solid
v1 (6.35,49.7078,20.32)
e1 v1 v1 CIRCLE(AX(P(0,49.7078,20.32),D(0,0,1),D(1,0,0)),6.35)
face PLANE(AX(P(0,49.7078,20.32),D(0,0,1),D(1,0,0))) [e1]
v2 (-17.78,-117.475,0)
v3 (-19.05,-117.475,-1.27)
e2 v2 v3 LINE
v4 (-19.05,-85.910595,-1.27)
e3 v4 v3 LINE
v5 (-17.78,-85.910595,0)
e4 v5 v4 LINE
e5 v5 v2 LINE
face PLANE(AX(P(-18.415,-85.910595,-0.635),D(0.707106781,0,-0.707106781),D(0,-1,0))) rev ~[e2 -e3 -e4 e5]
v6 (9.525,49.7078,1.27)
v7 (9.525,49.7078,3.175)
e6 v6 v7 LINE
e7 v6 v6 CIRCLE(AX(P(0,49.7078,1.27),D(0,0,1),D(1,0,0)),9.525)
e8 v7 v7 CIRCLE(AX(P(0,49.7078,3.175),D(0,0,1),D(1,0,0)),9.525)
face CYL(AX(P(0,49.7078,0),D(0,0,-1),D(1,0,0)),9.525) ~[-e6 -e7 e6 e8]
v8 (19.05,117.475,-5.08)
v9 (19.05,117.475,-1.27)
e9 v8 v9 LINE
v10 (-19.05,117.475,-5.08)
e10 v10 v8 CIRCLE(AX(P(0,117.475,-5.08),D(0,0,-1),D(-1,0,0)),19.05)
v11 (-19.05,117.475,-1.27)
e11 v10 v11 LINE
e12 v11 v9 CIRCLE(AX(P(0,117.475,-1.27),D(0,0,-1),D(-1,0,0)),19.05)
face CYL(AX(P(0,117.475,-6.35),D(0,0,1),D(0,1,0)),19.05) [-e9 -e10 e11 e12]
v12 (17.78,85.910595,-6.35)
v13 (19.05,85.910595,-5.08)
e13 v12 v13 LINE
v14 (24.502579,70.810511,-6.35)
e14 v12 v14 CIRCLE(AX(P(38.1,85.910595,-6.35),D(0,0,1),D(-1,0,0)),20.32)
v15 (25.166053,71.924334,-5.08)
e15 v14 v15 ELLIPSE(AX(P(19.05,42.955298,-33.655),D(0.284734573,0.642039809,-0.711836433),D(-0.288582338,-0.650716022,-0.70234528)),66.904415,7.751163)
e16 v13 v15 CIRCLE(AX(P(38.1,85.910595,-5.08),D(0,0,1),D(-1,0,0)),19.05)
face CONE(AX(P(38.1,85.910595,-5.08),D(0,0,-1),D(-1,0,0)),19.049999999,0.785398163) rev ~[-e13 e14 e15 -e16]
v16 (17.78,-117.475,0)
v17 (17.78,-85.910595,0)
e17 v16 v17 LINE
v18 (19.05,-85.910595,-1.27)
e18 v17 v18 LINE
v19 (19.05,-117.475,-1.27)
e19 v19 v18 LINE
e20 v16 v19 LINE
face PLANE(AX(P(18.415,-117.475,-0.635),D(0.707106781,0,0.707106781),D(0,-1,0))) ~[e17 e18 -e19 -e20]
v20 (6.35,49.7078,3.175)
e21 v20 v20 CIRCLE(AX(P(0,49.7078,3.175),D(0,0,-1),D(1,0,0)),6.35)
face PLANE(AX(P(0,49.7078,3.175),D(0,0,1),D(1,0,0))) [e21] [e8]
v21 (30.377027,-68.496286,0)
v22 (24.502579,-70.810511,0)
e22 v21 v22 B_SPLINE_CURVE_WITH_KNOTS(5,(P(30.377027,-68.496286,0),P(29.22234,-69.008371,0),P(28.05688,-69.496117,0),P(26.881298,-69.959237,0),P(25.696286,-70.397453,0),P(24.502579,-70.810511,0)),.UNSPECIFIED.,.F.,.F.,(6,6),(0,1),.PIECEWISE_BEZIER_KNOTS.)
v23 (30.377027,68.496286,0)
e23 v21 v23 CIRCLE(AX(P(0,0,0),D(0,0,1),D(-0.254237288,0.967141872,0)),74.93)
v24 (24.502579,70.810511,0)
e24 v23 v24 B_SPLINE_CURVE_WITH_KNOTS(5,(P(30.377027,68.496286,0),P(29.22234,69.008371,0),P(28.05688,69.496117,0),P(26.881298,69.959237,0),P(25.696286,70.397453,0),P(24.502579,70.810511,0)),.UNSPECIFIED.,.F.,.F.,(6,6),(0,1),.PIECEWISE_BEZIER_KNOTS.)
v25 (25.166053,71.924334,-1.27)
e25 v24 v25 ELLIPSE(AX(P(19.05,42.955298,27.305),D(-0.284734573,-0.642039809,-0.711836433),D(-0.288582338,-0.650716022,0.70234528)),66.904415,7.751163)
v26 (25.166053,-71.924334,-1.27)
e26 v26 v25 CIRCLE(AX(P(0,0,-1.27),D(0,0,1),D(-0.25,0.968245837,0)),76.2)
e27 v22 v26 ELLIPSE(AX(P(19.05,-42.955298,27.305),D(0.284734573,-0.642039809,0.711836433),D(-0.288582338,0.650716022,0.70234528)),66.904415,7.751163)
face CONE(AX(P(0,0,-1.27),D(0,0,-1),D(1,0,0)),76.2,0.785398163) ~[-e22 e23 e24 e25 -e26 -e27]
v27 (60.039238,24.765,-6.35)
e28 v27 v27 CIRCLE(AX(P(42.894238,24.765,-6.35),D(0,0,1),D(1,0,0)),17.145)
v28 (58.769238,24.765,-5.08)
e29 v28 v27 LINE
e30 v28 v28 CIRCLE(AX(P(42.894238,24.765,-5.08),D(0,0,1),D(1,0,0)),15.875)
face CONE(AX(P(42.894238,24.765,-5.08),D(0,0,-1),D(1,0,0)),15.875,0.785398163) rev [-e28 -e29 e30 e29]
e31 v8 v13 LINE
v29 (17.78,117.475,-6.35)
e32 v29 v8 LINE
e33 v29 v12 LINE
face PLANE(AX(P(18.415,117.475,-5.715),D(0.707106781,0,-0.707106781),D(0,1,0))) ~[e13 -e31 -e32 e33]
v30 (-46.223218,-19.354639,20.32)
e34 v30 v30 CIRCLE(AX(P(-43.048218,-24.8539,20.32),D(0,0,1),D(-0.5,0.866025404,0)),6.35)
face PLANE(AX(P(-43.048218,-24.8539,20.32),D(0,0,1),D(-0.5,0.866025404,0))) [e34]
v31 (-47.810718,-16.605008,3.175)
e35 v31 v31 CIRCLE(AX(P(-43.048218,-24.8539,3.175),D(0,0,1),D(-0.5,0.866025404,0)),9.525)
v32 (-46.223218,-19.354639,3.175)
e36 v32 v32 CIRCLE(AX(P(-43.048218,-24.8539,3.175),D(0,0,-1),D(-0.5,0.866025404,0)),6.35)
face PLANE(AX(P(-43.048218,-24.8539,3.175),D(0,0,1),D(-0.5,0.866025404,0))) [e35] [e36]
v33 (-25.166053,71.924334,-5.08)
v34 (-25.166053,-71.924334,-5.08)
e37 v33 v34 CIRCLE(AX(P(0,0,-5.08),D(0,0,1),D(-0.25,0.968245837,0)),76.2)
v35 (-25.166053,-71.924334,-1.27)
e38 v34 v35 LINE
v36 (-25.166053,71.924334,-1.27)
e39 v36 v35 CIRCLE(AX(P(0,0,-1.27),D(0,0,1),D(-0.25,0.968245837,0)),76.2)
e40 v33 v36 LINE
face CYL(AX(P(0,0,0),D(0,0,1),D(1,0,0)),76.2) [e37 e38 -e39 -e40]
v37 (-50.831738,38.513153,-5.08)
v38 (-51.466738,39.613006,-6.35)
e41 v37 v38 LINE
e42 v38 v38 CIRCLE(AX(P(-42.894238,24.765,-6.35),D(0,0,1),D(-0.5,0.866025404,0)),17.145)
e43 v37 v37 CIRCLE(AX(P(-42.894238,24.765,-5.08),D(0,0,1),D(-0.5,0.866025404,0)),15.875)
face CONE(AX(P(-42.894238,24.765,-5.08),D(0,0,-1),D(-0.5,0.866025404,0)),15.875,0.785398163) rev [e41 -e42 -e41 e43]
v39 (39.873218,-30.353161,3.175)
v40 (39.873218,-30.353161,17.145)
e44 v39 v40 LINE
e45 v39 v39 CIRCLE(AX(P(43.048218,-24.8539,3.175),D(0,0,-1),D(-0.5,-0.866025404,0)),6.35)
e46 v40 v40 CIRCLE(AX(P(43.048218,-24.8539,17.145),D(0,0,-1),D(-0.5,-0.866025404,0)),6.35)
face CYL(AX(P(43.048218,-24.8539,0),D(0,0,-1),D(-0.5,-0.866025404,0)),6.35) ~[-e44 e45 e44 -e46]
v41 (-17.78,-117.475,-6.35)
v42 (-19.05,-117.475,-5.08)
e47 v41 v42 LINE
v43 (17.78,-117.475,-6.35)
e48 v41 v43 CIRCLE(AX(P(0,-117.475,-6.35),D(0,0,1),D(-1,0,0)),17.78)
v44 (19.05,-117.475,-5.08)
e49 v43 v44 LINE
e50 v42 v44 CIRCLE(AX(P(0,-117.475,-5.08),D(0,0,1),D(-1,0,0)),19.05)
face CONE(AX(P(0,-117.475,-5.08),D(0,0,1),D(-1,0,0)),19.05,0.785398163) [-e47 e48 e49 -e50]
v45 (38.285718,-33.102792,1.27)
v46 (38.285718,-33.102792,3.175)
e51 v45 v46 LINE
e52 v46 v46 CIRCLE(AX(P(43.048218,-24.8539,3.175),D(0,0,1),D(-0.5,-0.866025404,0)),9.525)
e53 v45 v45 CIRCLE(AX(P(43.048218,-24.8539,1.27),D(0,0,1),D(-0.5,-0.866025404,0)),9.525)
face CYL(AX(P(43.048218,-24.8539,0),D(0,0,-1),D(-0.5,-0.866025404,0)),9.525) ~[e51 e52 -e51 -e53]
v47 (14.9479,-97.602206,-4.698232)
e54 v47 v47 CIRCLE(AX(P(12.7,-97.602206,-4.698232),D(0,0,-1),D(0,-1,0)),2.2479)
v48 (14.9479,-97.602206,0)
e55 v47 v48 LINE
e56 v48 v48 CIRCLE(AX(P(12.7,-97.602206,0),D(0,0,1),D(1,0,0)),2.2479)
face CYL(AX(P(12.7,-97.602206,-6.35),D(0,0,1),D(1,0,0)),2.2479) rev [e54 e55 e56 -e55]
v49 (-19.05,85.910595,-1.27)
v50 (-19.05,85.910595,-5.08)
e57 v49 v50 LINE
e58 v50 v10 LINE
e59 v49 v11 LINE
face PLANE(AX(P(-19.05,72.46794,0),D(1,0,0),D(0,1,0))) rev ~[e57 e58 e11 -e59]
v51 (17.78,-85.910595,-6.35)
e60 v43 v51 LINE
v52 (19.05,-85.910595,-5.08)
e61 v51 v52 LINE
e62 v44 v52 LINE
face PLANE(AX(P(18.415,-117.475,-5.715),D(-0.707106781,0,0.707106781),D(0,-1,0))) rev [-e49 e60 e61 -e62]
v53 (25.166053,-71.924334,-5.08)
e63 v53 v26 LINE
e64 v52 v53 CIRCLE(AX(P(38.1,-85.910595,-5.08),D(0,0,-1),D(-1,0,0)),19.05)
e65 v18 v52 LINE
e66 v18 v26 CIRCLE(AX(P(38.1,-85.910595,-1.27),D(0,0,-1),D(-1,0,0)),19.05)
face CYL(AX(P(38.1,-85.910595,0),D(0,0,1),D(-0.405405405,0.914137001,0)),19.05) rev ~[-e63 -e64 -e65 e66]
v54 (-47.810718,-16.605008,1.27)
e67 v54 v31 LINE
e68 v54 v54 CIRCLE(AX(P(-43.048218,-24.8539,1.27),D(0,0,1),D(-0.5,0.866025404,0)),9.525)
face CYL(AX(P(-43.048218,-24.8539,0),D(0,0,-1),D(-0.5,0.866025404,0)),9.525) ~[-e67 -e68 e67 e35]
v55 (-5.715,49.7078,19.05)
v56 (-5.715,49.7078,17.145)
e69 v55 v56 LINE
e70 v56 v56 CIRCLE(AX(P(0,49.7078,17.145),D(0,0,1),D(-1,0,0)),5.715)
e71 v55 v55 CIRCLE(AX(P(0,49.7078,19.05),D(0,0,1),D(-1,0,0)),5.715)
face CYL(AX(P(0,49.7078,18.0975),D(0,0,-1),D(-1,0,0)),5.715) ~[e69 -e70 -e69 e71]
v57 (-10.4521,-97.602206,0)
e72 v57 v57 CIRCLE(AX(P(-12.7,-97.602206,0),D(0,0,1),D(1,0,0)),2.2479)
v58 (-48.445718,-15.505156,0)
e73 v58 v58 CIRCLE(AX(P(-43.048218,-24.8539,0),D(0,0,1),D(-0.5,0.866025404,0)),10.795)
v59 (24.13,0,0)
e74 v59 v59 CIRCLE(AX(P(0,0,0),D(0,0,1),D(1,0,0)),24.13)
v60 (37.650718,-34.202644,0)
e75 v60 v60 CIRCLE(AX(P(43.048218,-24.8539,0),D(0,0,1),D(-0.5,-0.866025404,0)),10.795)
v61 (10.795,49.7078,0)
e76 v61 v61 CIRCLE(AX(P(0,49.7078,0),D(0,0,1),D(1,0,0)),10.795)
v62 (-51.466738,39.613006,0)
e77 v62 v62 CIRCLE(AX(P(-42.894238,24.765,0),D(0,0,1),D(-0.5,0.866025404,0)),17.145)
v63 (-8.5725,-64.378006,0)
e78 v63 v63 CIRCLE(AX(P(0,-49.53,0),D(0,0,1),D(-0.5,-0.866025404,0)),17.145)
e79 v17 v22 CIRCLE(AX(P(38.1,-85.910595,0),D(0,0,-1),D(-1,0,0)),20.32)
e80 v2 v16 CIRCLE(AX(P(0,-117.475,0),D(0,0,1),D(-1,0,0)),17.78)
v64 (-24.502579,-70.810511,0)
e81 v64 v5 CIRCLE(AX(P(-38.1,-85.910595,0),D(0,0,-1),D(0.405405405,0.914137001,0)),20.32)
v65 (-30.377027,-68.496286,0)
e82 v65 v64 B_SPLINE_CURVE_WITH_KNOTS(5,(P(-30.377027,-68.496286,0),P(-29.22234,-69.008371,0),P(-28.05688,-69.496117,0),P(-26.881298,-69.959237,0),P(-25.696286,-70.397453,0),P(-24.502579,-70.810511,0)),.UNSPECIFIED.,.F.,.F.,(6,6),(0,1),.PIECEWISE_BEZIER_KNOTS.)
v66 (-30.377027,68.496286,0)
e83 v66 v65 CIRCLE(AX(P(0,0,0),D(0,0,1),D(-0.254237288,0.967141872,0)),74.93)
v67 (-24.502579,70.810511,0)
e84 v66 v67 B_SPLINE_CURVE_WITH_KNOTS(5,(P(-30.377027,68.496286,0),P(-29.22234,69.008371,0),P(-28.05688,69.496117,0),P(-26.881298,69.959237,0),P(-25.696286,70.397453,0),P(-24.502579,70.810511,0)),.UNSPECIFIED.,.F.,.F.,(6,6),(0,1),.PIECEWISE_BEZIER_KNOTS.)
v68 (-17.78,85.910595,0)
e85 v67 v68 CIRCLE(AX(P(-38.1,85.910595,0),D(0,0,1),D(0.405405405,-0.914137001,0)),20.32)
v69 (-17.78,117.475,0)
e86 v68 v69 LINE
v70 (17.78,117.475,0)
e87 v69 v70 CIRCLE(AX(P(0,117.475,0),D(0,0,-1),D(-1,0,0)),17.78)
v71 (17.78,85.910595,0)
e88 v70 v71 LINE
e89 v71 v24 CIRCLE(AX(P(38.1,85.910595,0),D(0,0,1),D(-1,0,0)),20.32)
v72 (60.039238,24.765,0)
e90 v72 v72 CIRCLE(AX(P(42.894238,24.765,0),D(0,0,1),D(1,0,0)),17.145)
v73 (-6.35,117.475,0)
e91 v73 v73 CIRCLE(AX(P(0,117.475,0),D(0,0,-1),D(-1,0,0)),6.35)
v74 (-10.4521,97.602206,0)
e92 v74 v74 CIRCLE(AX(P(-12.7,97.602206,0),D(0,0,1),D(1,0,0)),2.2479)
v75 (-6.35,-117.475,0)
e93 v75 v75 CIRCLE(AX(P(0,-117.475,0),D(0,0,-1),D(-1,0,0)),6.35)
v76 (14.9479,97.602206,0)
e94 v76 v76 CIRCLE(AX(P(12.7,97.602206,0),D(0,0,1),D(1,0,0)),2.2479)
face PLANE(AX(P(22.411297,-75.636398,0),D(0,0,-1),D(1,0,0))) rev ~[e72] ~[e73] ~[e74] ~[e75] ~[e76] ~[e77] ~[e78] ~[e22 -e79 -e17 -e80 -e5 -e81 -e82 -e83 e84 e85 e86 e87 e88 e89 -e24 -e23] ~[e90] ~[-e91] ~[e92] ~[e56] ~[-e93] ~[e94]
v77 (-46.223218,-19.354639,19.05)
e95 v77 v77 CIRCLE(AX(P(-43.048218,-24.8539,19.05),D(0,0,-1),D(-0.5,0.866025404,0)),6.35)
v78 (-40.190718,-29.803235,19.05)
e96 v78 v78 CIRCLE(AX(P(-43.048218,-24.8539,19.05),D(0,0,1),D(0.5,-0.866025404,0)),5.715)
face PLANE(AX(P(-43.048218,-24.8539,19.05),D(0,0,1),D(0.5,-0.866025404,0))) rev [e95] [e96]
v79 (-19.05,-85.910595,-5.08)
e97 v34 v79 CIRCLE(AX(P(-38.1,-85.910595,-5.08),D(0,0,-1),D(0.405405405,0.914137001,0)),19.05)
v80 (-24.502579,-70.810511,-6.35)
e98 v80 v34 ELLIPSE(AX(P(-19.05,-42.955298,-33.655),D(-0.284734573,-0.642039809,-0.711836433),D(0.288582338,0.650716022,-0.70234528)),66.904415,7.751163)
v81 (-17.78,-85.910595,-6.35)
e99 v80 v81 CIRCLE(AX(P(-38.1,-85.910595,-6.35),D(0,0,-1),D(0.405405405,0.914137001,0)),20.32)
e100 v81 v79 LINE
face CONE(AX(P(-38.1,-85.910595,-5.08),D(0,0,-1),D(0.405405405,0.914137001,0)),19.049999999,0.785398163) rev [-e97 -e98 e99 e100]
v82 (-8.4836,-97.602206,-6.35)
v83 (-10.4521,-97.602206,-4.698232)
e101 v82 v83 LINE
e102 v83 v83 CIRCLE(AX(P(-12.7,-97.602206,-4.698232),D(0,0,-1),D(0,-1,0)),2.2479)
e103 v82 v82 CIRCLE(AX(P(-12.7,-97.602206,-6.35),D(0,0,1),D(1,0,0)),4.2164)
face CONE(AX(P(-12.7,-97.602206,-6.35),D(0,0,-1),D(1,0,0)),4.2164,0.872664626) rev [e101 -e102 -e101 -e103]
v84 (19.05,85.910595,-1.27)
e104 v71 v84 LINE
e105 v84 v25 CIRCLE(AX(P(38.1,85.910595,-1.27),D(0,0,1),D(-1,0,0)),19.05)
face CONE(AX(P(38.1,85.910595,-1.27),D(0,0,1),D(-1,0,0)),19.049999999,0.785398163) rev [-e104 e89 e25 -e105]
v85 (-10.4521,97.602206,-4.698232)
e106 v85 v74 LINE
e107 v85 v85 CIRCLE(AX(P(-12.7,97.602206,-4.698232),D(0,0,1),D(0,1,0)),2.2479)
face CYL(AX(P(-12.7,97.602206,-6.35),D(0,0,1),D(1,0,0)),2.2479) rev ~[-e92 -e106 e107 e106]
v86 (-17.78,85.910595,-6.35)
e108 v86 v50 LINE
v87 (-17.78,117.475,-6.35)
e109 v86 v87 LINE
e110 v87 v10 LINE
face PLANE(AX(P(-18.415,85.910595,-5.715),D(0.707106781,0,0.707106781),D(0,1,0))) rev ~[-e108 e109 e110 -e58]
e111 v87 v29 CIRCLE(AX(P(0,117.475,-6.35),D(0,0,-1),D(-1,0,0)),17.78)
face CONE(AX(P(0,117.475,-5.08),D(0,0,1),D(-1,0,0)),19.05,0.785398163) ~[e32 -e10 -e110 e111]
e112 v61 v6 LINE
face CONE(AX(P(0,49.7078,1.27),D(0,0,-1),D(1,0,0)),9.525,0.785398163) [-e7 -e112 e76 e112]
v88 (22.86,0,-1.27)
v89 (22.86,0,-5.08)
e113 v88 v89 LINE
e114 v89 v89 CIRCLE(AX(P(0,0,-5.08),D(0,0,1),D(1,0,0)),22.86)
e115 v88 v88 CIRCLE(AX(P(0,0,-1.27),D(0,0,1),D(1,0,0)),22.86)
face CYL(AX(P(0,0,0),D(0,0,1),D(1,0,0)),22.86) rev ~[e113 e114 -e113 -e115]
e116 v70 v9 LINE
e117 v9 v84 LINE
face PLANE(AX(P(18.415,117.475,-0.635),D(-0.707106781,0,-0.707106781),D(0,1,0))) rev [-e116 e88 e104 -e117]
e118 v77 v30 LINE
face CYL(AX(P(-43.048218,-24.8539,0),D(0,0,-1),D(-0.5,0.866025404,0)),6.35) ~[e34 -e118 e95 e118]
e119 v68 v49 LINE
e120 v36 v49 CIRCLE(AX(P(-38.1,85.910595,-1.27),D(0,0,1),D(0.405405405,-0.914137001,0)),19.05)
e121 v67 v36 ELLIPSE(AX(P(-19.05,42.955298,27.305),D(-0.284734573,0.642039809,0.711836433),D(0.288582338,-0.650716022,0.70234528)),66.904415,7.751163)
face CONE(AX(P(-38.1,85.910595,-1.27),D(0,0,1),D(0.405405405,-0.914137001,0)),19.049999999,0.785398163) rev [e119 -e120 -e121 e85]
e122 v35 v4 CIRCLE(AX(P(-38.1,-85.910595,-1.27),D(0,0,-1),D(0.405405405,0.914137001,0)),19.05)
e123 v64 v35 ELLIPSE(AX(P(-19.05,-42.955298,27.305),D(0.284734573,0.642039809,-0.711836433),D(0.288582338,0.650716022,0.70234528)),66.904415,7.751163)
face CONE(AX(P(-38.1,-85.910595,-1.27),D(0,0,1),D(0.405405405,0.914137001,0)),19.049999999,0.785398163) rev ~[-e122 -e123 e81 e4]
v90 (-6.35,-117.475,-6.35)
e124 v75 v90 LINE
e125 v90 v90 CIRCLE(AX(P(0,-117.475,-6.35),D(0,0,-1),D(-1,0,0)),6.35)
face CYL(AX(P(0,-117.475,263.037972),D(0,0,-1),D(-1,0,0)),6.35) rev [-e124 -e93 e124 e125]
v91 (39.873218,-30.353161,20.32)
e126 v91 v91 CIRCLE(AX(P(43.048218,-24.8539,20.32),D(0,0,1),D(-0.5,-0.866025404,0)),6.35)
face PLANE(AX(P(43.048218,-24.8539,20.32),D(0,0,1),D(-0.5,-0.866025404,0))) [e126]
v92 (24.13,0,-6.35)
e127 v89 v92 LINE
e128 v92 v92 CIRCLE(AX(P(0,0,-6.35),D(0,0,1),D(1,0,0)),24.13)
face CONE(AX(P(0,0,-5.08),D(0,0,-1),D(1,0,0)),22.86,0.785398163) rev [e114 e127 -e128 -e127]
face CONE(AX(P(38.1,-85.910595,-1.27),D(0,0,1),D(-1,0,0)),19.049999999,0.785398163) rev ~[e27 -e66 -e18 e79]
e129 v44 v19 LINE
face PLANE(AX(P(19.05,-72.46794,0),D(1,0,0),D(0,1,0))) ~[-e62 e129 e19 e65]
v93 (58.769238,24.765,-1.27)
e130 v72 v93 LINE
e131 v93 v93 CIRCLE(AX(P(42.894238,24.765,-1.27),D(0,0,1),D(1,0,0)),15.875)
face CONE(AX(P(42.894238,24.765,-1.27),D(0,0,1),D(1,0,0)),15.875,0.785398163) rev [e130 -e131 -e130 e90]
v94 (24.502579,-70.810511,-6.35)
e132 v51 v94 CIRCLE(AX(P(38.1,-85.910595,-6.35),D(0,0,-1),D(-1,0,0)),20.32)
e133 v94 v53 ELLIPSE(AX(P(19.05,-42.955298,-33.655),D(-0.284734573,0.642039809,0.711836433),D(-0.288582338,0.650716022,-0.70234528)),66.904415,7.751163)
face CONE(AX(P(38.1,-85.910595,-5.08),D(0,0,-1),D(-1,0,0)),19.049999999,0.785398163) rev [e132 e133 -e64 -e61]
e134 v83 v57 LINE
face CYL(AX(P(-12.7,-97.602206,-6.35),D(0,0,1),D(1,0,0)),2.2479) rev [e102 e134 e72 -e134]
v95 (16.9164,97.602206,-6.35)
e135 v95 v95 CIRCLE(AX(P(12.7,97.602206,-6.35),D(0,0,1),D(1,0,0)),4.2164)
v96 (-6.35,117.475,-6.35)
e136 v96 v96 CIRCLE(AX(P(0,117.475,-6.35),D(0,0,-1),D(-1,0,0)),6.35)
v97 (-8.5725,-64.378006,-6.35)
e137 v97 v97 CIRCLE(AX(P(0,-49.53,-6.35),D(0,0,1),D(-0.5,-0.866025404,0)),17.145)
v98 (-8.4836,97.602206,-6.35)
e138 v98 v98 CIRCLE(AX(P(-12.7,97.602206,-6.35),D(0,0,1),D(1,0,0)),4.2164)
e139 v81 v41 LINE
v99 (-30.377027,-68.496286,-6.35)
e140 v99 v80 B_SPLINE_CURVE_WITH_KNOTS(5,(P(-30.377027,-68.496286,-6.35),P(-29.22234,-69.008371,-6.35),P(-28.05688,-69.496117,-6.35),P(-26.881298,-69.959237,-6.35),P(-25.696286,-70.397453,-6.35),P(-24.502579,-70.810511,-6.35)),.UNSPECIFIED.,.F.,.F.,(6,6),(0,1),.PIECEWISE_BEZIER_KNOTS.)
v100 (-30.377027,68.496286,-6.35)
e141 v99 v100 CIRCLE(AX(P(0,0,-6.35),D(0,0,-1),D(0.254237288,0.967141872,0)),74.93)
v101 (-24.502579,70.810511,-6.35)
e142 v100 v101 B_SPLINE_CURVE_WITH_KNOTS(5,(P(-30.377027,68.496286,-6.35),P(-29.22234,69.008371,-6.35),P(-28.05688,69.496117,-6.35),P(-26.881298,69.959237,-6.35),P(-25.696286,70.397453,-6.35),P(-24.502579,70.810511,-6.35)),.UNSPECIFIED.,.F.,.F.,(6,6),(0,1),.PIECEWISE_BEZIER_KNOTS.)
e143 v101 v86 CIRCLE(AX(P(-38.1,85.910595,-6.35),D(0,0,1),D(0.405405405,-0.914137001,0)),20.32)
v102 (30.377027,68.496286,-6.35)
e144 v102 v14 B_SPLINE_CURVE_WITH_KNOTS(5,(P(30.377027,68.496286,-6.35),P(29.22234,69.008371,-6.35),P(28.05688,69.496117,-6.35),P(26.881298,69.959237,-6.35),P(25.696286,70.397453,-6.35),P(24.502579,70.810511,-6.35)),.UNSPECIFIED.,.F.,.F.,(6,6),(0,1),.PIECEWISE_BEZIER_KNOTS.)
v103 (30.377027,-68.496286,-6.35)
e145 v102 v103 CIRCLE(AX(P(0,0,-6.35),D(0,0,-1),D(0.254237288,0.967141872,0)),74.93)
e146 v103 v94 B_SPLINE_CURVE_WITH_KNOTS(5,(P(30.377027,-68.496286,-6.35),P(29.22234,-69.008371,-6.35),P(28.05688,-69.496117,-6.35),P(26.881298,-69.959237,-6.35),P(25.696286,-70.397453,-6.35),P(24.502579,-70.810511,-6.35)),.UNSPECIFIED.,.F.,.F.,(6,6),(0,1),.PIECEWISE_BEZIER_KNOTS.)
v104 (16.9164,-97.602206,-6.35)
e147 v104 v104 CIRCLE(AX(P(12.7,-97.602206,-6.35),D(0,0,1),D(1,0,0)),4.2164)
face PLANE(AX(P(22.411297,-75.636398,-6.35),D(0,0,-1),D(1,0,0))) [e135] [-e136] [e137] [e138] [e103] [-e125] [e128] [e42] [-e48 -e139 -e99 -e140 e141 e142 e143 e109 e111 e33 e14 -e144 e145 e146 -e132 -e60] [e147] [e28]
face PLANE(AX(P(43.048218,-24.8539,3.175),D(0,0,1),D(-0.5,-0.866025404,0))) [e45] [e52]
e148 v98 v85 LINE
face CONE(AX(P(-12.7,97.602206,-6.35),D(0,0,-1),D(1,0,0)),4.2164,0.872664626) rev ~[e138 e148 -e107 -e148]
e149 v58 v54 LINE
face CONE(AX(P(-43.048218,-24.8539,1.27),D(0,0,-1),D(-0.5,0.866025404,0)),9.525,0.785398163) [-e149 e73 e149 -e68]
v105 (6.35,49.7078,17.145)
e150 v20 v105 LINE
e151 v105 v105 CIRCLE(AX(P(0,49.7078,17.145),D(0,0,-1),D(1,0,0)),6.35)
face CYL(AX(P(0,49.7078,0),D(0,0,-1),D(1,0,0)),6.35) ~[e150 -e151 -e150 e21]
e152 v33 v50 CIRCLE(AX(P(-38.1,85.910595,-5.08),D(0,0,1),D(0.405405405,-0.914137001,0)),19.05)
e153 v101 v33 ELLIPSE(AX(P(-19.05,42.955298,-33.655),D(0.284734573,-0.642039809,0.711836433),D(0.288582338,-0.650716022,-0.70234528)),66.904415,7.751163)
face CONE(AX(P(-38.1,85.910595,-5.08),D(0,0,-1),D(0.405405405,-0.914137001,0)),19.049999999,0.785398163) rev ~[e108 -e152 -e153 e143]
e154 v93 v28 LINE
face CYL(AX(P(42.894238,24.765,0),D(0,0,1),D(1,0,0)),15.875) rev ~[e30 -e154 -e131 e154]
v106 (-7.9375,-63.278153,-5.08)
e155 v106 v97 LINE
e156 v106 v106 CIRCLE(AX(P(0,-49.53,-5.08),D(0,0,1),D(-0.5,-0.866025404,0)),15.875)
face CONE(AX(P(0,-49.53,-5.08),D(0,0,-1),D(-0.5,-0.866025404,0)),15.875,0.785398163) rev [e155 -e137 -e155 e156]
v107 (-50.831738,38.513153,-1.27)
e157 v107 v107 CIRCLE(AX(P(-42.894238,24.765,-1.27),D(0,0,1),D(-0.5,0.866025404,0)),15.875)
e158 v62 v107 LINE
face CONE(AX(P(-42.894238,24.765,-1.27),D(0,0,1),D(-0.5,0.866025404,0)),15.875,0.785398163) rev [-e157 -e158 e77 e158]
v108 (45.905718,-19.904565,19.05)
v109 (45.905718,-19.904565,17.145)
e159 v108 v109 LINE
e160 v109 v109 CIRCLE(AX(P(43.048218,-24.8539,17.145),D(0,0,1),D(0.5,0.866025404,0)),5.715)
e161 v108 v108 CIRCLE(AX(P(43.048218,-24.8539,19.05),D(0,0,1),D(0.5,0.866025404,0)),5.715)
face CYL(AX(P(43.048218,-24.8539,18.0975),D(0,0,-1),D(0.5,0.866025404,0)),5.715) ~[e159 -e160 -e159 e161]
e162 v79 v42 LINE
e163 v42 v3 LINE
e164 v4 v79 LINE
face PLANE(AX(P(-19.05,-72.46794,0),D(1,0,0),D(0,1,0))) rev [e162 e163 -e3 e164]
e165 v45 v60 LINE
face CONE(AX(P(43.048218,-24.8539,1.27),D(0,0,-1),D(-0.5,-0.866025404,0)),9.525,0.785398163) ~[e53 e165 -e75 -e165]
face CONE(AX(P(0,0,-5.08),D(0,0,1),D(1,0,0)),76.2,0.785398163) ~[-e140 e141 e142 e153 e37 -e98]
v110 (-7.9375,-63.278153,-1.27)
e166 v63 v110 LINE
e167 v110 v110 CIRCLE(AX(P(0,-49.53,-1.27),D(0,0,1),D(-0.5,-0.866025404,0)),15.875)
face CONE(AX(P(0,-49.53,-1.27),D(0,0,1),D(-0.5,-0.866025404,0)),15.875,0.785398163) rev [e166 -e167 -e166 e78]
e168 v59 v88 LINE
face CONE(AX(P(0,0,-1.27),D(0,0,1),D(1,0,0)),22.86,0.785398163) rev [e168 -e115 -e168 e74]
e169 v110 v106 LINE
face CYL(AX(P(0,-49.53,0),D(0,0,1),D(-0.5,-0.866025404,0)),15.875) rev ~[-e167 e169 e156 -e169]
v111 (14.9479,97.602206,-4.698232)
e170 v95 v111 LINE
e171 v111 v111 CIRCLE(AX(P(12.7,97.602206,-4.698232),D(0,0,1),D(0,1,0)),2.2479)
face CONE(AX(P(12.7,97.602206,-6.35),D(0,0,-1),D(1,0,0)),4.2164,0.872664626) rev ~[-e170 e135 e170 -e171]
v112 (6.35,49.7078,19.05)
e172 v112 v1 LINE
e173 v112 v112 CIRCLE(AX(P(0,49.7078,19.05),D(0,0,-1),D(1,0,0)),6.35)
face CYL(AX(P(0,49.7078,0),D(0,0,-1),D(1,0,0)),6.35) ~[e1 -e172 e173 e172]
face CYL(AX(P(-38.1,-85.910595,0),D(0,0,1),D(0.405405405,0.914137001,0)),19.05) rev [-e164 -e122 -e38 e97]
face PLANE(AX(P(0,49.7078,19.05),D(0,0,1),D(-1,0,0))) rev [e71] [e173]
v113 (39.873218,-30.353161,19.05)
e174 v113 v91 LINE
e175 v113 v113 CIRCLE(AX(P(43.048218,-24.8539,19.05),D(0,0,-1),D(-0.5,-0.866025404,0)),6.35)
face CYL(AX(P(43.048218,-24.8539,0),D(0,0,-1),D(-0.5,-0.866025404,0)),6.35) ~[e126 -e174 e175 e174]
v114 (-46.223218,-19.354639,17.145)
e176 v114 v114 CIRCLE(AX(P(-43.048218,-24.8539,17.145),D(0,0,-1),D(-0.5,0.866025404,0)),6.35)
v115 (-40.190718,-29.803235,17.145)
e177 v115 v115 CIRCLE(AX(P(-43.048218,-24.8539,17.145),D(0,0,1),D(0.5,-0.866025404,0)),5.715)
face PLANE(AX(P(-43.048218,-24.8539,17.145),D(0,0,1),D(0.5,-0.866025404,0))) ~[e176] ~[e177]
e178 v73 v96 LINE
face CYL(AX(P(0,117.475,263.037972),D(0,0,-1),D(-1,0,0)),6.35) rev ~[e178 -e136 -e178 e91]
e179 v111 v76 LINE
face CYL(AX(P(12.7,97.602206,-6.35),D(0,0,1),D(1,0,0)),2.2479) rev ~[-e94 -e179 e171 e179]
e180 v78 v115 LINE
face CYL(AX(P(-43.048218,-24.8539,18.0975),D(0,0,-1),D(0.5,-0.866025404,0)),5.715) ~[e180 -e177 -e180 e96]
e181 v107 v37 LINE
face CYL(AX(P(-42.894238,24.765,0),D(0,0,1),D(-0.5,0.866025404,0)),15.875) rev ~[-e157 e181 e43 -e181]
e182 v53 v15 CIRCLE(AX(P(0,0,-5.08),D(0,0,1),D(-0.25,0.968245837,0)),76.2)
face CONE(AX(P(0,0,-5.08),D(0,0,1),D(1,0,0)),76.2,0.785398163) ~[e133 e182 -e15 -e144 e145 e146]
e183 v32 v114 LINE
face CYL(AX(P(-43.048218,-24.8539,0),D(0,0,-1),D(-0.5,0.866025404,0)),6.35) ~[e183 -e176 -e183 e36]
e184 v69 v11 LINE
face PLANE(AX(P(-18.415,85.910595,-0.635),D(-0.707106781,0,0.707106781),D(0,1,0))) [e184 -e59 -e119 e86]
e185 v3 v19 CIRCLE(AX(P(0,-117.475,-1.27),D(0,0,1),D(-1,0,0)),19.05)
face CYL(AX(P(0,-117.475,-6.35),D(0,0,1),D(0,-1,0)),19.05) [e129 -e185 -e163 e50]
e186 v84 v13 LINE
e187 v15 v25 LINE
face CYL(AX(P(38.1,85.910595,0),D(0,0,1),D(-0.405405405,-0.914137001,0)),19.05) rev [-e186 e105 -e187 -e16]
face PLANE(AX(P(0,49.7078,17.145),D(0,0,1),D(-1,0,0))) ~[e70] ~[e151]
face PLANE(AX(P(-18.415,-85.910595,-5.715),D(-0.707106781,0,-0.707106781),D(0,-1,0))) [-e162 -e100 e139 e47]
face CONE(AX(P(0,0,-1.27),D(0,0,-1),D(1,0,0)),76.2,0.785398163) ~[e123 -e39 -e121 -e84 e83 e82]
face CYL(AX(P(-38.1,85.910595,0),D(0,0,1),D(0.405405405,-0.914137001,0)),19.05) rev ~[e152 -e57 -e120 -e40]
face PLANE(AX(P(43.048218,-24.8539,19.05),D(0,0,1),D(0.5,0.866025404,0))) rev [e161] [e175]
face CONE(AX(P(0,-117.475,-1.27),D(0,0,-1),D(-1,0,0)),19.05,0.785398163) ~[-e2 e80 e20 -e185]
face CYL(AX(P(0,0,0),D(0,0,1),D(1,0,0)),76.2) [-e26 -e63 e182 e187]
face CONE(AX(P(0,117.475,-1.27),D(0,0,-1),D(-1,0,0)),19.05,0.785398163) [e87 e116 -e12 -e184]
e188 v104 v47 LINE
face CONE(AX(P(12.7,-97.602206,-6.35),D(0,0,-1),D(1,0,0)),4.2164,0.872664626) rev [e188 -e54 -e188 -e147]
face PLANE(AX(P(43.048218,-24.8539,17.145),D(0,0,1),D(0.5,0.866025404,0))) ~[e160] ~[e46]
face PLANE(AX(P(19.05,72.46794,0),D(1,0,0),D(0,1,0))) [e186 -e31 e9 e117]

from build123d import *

# Parameters (mm, degrees)
SKETCH1_R                                         = 76.2
BOSS_EXTRUDE1_DEPTH                               = 6.35
SKETCH2_R                                         = 6.35
BOSS_EXTRUDE2_DEPTH                               = 20.32
CIRPATTERN1_COUNT                                 = 3
F_5_8_0_625_DIAMETER_HOLE1_D                      = 15.875
SKETCH11_R                                        = 9.525
BOSS_EXTRUDE3_DEPTH                               = 3.175
CIRPATTERN5_COUNT                                 = 3
CUT_EXTRUDE3_REACH                                = 111.662
SKETCH12_R                                        = 22.86
SKETCH13_W                                        = 1.905
SKETCH13_H                                        = 1.27
CIRPATTERN6_COUNT                                 = 3
CHAMFER1_SIZE                                     = 1.27
CUT_EXTRUDE4_REACH                                = 111.662
SKETCH14_R                                        = 15.875
CIRPATTERN7_COUNT                                 = 3
CHAMFER2_SIZE                                     = 1.27
SKETCH15_W                                        = 38.1
SKETCH15_H                                        = 64.057059502
BOSS_EXTRUDE4_DEPTH                               = 6.35
FILLET1_RADIUS                                    = 19.05
FILLET1_LENGTH                                    = 6.35
BOSS_EXTRUDE5_DEPTH                               = 6.35
F_10_0_5_DIAMETER_HOLE1_D                         = 12.7
CSK_FOR_8_FLAT_HEAD_MACHINE_SCREW_100_D           = 4.4958
CSK_FOR_8_FLAT_HEAD_MACHINE_SCREW_100_CSINK_D     = 8.4328
CSK_FOR_8_FLAT_HEAD_MACHINE_SCREW_100_CSINK_ANGLE = 100
MIRROR3_COPY_1_DEPTH                              = 6.35
FILLET1_OF_MIRROR3_2_RADIUS                       = 19.05
FILLET1_OF_MIRROR3_2_LENGTH                       = 6.35
CHAMFER3_SIZE                                     = 1.27


with BuildPart() as part:
    # Sketch1 → Boss-Extrude1 (new body)
    with BuildSketch(Plane.XY):
        Circle(SKETCH1_R)
    extrude(amount=-BOSS_EXTRUDE1_DEPTH)

    # Sketch2 → Boss-Extrude2 (add)
    with BuildSketch(Plane.XY):
        with Locations((0, 49.7078)):
            Circle(SKETCH2_R)
    boss_extrude2 = extrude(amount=BOSS_EXTRUDE2_DEPTH)

    # CirPattern1: Boss-Extrude2 ×3 about axis
    cirpattern1_axis = Axis((0, 0, 0), (0, 0, 1))
    for i in range(1, CIRPATTERN1_COUNT):
        add(boss_extrude2.rotate(cirpattern1_axis, i * 360 / CIRPATTERN1_COUNT))

    # 5/8 (0.625) Diameter Hole1 (through all)
    with Locations(Plane.XY):
        with Locations((0, 0)):
            Hole(F_5_8_0_625_DIAMETER_HOLE1_D / 2)

    # Sketch11 → Boss-Extrude3 (add)
    with BuildSketch(Plane.XY):
        with Locations((0, 49.7078)):
            Circle(SKETCH11_R)
    boss_extrude3 = extrude(amount=BOSS_EXTRUDE3_DEPTH)

    # CirPattern5: Boss-Extrude3 ×3 about axis
    cirpattern5_axis = Axis((0, 0, 0), (0, 0, 1))
    for i in range(1, CIRPATTERN5_COUNT):
        add(boss_extrude3.rotate(cirpattern5_axis, i * 360 / CIRPATTERN5_COUNT))

    # Sketch12 → Cut-Extrude3 (cut, up to next)
    with BuildSketch(Plane.XY, mode=Mode.PRIVATE) as cut_extrude3_sk1:
        Circle(SKETCH12_R)
    cut_extrude3_tool1 = extrude(cut_extrude3_sk1.sketch, amount=-CUT_EXTRUDE3_REACH, mode=Mode.PRIVATE) & part.part
    add(cut_extrude3_tool1.solids().sort_by_distance((0, 0, 0))[0], mode=Mode.SUBTRACT)

    # Sketch13 → Cut-Revolve1 (revolve, cut)
    with BuildSketch(Plane(origin=(0, 0, 0), x_dir=(0, 0, -1), z_dir=(1, 0, 0)), mode=Mode.PRIVATE) as cut_revolve1_sk:
        with Locations((-18.0975, 56.0578)):
            Rectangle(SKETCH13_W, SKETCH13_H)
    cut_revolve1 = revolve(cut_revolve1_sk.sketch.rotate(Axis((0, 49.7078, 20.32), (0, 0, 1)), 90), axis=Axis((0, 49.7078, 20.32), (0, 0, 1)), mode=Mode.SUBTRACT)

    # CirPattern6: Cut-Revolve1 ×3 about axis
    cirpattern6_axis = Axis((0, 0, 0), (0, 0, 1))
    for i in range(1, CIRPATTERN6_COUNT):
        add(cut_revolve1.rotate(cirpattern6_axis, i * 360 / CIRPATTERN6_COUNT), mode=Mode.SUBTRACT)

    # Chamfer1
    chamfer1_edges = [part.edges().sort_by_distance(p)[0] for p in [
        (-76.2, 0, 0),
        (-9.525, 49.7078, 0),
        (-38.285717566, -33.102791971, 0),
        (47.810717566, -16.605008029, 0),
        (-22.86, 0, -6.35),
        (-22.86, 0, 0),
        (-76.2, 0, -6.35),
    ]]
    chamfer(chamfer1_edges, length=CHAMFER1_SIZE)

    # Sketch14 → Cut-Extrude4 (cut, up to next)
    with BuildSketch(Plane.XY, mode=Mode.PRIVATE) as cut_extrude4_sk1:
        with Locations((42.894238249, 24.765)):
            Circle(SKETCH14_R)
    cut_extrude4_tool1 = extrude(cut_extrude4_sk1.sketch, amount=-CUT_EXTRUDE4_REACH, mode=Mode.PRIVATE) & part.part
    cut_extrude4 = cut_extrude4_tool1.solids().sort_by_distance((42.894238, 24.765, 0))[0]
    add(cut_extrude4, mode=Mode.SUBTRACT)

    # CirPattern7: Cut-Extrude4 ×3 about axis
    cirpattern7_axis = Axis((0, 0, 0), (0, 0, 1))
    for i in range(1, CIRPATTERN7_COUNT):
        add(cut_extrude4.rotate(cirpattern7_axis, i * 360 / CIRPATTERN7_COUNT), mode=Mode.SUBTRACT)

    # Chamfer2
    chamfer2_edges = [part.edges().sort_by_distance(p)[0] for p in [
        (7.9375, -35.781846715, -6.35),
        (27.019238249, 24.765, 0),
        (27.019238249, 24.765, -6.35),
        (-34.956738249, 11.016846715, 0),
        (-34.956738249, 11.016846715, -6.35),
        (7.9375, -35.781846715, 0),
    ]]
    chamfer(chamfer2_edges, length=CHAMFER2_SIZE)

    # Sketch15 → Boss-Extrude4 (add)
    with BuildSketch(Plane.XY):
        with Locations((0, 104.496470249)):
            Rectangle(SKETCH15_W, SKETCH15_H)
    boss_extrude4 = extrude(amount=-BOSS_EXTRUDE4_DEPTH)

    # Fillet1: full round fillet: the end face becomes a half cylinder, R = half its width
    fillet1_face = Plane((0, 136.525, -3.175), x_dir=(0, 0, 1), z_dir=(0, 1, 0))  # on the end face: x along it, z out of the body
    fillet1_slab = fillet1_face.offset(-FILLET1_RADIUS / 2) * Box(FILLET1_LENGTH, 2 * FILLET1_RADIUS, FILLET1_RADIUS, mode=Mode.PRIVATE)  # the body's end, R deep
    fillet1_round = Plane((0, 117.475, -3.175), x_dir=(0, 1, 0), z_dir=(0, 0, 1)) * Cylinder(FILLET1_RADIUS, FILLET1_LENGTH, mode=Mode.PRIVATE)  # its axis R under the face
    add(fillet1_slab - fillet1_round, mode=Mode.SUBTRACT)

    # Sketch16 → Boss-Extrude5 (add)
    with BuildSketch(Plane.XY):
        with BuildLine():
            Line((-19.05, 85.910595388), (-19.05, 72.467940498))
            ThreePointArc((-19.05, 72.467940498), (-24.793169644, 70.709289623), (-30.377027027, 68.496285512))
            ThreePointArc((-30.377027027, 68.496285512), (-22.130887076, 75.523587521), (-19.05, 85.910595388))
        make_face()
    boss_extrude5 = extrude(amount=-BOSS_EXTRUDE5_DEPTH)

    # Mirror1: Boss-Extrude5 across plane
    add(boss_extrude5.mirror(Plane(origin=(0, 0, 0), x_dir=(0, 0, 1), z_dir=(1, 0, 0))))

    # #10 (0.5) Diameter Hole1 (through all)
    with Locations(Plane.XY):
        with Locations((0, 117.475)):
            f_10_0_5_diameter_hole1 = Hole(F_10_0_5_DIAMETER_HOLE1_D / 2)

    # CSK for #8 Flat Head Machine Screw (100)1 (through all)
    with Locations(Plane(origin=(0, 0, -6.35), x_dir=(-1, 0, 0), z_dir=(0, 0, -1))):
        with Locations((12.7, 97.602206046), (-12.7, 97.602206046)):
            csk_for_8_flat_head_machine_screw_100 = CounterSinkHole(CSK_FOR_8_FLAT_HEAD_MACHINE_SCREW_100_D / 2, CSK_FOR_8_FLAT_HEAD_MACHINE_SCREW_100_CSINK_D / 2, counter_sink_angle=CSK_FOR_8_FLAT_HEAD_MACHINE_SCREW_100_CSINK_ANGLE)

    # Mirror3: Boss-Extrude4, Boss-Extrude5, #10 (0.5) Diameter Hole1, CSK for #8 Flat Head Machine Screw (100)1 across plane
    add(boss_extrude4.mirror(Plane.ZX))
    add(boss_extrude5.mirror(Plane.ZX))
    add(f_10_0_5_diameter_hole1.mirror(Plane.ZX), mode=Mode.SUBTRACT)
    add(csk_for_8_flat_head_machine_screw_100.mirror(Plane.ZX), mode=Mode.SUBTRACT)

    # Mirror3 copy 1 sketch → Mirror3 copy 1 (add)
    with BuildSketch(Plane(origin=(0, 0, 0), x_dir=(-1, 0, 0), z_dir=(0, 0, 1))):
        with BuildLine():
            Line((-19.05, 85.910595388), (-19.05, 72.467940498))
            ThreePointArc((-19.05, 72.467940498), (-24.793169644, 70.709289623), (-30.377027027, 68.496285512))
            ThreePointArc((-30.377027027, 68.496285512), (-22.130887076, 75.523587521), (-19.05, 85.910595388))
        make_face()
    extrude(amount=-MIRROR3_COPY_1_DEPTH)

    # Fillet1 of Mirror3 2: full round fillet: the end face becomes a half cylinder, R = half its width
    fillet1_of_mirror3_2_face = Plane((0, -136.525, -3.175), x_dir=(0, 0, 1), z_dir=(0, -1, 0))  # on the end face: x along it, z out of the body
    fillet1_of_mirror3_2_slab = fillet1_of_mirror3_2_face.offset(-FILLET1_OF_MIRROR3_2_RADIUS / 2) * Box(FILLET1_OF_MIRROR3_2_LENGTH, 2 * FILLET1_OF_MIRROR3_2_RADIUS, FILLET1_OF_MIRROR3_2_RADIUS, mode=Mode.PRIVATE)  # the body's end, R deep
    fillet1_of_mirror3_2_round = Plane((0, -117.475, -3.175), x_dir=(0, -1, 0), z_dir=(0, 0, 1)) * Cylinder(FILLET1_OF_MIRROR3_2_RADIUS, FILLET1_OF_MIRROR3_2_LENGTH, mode=Mode.PRIVATE)  # its axis R under the face
    add(fillet1_of_mirror3_2_slab - fillet1_of_mirror3_2_round, mode=Mode.SUBTRACT)

    # Chamfer3
    chamfer3_edges = [part.edges().sort_by_distance(p)[0] for p in [
        (-19.05, 101.692797694, 0),
        (-19.05, 101.692797694, -6.35),
        (0, 136.525, 0),
        (0, 136.525, -6.35),
        (-22.130887076, 75.523587521, -6.35),
        (-22.130887076, 75.523587521, 0),
        (19.05, 101.692797694, -6.35),
        (19.05, 101.692797694, 0),
        (22.130887076, 75.523587521, 0),
        (22.130887076, 75.523587521, -6.35),
        (-19.05, -101.692797694, -6.35),
        (-19.05, -101.692797694, 0),
        (0, -136.525, -6.35),
        (0, -136.525, 0),
        (-22.130887076, -75.523587521, 0),
        (-22.130887076, -75.523587521, -6.35),
        (19.05, -101.692797694, 0),
        (19.05, -101.692797694, -6.35),
        (22.130887076, -75.523587521, -6.35),
        (22.130887076, -75.523587521, 0),
    ]]
    chamfer(chamfer3_edges, length=CHAMFER3_SIZE)


solid = part.part
